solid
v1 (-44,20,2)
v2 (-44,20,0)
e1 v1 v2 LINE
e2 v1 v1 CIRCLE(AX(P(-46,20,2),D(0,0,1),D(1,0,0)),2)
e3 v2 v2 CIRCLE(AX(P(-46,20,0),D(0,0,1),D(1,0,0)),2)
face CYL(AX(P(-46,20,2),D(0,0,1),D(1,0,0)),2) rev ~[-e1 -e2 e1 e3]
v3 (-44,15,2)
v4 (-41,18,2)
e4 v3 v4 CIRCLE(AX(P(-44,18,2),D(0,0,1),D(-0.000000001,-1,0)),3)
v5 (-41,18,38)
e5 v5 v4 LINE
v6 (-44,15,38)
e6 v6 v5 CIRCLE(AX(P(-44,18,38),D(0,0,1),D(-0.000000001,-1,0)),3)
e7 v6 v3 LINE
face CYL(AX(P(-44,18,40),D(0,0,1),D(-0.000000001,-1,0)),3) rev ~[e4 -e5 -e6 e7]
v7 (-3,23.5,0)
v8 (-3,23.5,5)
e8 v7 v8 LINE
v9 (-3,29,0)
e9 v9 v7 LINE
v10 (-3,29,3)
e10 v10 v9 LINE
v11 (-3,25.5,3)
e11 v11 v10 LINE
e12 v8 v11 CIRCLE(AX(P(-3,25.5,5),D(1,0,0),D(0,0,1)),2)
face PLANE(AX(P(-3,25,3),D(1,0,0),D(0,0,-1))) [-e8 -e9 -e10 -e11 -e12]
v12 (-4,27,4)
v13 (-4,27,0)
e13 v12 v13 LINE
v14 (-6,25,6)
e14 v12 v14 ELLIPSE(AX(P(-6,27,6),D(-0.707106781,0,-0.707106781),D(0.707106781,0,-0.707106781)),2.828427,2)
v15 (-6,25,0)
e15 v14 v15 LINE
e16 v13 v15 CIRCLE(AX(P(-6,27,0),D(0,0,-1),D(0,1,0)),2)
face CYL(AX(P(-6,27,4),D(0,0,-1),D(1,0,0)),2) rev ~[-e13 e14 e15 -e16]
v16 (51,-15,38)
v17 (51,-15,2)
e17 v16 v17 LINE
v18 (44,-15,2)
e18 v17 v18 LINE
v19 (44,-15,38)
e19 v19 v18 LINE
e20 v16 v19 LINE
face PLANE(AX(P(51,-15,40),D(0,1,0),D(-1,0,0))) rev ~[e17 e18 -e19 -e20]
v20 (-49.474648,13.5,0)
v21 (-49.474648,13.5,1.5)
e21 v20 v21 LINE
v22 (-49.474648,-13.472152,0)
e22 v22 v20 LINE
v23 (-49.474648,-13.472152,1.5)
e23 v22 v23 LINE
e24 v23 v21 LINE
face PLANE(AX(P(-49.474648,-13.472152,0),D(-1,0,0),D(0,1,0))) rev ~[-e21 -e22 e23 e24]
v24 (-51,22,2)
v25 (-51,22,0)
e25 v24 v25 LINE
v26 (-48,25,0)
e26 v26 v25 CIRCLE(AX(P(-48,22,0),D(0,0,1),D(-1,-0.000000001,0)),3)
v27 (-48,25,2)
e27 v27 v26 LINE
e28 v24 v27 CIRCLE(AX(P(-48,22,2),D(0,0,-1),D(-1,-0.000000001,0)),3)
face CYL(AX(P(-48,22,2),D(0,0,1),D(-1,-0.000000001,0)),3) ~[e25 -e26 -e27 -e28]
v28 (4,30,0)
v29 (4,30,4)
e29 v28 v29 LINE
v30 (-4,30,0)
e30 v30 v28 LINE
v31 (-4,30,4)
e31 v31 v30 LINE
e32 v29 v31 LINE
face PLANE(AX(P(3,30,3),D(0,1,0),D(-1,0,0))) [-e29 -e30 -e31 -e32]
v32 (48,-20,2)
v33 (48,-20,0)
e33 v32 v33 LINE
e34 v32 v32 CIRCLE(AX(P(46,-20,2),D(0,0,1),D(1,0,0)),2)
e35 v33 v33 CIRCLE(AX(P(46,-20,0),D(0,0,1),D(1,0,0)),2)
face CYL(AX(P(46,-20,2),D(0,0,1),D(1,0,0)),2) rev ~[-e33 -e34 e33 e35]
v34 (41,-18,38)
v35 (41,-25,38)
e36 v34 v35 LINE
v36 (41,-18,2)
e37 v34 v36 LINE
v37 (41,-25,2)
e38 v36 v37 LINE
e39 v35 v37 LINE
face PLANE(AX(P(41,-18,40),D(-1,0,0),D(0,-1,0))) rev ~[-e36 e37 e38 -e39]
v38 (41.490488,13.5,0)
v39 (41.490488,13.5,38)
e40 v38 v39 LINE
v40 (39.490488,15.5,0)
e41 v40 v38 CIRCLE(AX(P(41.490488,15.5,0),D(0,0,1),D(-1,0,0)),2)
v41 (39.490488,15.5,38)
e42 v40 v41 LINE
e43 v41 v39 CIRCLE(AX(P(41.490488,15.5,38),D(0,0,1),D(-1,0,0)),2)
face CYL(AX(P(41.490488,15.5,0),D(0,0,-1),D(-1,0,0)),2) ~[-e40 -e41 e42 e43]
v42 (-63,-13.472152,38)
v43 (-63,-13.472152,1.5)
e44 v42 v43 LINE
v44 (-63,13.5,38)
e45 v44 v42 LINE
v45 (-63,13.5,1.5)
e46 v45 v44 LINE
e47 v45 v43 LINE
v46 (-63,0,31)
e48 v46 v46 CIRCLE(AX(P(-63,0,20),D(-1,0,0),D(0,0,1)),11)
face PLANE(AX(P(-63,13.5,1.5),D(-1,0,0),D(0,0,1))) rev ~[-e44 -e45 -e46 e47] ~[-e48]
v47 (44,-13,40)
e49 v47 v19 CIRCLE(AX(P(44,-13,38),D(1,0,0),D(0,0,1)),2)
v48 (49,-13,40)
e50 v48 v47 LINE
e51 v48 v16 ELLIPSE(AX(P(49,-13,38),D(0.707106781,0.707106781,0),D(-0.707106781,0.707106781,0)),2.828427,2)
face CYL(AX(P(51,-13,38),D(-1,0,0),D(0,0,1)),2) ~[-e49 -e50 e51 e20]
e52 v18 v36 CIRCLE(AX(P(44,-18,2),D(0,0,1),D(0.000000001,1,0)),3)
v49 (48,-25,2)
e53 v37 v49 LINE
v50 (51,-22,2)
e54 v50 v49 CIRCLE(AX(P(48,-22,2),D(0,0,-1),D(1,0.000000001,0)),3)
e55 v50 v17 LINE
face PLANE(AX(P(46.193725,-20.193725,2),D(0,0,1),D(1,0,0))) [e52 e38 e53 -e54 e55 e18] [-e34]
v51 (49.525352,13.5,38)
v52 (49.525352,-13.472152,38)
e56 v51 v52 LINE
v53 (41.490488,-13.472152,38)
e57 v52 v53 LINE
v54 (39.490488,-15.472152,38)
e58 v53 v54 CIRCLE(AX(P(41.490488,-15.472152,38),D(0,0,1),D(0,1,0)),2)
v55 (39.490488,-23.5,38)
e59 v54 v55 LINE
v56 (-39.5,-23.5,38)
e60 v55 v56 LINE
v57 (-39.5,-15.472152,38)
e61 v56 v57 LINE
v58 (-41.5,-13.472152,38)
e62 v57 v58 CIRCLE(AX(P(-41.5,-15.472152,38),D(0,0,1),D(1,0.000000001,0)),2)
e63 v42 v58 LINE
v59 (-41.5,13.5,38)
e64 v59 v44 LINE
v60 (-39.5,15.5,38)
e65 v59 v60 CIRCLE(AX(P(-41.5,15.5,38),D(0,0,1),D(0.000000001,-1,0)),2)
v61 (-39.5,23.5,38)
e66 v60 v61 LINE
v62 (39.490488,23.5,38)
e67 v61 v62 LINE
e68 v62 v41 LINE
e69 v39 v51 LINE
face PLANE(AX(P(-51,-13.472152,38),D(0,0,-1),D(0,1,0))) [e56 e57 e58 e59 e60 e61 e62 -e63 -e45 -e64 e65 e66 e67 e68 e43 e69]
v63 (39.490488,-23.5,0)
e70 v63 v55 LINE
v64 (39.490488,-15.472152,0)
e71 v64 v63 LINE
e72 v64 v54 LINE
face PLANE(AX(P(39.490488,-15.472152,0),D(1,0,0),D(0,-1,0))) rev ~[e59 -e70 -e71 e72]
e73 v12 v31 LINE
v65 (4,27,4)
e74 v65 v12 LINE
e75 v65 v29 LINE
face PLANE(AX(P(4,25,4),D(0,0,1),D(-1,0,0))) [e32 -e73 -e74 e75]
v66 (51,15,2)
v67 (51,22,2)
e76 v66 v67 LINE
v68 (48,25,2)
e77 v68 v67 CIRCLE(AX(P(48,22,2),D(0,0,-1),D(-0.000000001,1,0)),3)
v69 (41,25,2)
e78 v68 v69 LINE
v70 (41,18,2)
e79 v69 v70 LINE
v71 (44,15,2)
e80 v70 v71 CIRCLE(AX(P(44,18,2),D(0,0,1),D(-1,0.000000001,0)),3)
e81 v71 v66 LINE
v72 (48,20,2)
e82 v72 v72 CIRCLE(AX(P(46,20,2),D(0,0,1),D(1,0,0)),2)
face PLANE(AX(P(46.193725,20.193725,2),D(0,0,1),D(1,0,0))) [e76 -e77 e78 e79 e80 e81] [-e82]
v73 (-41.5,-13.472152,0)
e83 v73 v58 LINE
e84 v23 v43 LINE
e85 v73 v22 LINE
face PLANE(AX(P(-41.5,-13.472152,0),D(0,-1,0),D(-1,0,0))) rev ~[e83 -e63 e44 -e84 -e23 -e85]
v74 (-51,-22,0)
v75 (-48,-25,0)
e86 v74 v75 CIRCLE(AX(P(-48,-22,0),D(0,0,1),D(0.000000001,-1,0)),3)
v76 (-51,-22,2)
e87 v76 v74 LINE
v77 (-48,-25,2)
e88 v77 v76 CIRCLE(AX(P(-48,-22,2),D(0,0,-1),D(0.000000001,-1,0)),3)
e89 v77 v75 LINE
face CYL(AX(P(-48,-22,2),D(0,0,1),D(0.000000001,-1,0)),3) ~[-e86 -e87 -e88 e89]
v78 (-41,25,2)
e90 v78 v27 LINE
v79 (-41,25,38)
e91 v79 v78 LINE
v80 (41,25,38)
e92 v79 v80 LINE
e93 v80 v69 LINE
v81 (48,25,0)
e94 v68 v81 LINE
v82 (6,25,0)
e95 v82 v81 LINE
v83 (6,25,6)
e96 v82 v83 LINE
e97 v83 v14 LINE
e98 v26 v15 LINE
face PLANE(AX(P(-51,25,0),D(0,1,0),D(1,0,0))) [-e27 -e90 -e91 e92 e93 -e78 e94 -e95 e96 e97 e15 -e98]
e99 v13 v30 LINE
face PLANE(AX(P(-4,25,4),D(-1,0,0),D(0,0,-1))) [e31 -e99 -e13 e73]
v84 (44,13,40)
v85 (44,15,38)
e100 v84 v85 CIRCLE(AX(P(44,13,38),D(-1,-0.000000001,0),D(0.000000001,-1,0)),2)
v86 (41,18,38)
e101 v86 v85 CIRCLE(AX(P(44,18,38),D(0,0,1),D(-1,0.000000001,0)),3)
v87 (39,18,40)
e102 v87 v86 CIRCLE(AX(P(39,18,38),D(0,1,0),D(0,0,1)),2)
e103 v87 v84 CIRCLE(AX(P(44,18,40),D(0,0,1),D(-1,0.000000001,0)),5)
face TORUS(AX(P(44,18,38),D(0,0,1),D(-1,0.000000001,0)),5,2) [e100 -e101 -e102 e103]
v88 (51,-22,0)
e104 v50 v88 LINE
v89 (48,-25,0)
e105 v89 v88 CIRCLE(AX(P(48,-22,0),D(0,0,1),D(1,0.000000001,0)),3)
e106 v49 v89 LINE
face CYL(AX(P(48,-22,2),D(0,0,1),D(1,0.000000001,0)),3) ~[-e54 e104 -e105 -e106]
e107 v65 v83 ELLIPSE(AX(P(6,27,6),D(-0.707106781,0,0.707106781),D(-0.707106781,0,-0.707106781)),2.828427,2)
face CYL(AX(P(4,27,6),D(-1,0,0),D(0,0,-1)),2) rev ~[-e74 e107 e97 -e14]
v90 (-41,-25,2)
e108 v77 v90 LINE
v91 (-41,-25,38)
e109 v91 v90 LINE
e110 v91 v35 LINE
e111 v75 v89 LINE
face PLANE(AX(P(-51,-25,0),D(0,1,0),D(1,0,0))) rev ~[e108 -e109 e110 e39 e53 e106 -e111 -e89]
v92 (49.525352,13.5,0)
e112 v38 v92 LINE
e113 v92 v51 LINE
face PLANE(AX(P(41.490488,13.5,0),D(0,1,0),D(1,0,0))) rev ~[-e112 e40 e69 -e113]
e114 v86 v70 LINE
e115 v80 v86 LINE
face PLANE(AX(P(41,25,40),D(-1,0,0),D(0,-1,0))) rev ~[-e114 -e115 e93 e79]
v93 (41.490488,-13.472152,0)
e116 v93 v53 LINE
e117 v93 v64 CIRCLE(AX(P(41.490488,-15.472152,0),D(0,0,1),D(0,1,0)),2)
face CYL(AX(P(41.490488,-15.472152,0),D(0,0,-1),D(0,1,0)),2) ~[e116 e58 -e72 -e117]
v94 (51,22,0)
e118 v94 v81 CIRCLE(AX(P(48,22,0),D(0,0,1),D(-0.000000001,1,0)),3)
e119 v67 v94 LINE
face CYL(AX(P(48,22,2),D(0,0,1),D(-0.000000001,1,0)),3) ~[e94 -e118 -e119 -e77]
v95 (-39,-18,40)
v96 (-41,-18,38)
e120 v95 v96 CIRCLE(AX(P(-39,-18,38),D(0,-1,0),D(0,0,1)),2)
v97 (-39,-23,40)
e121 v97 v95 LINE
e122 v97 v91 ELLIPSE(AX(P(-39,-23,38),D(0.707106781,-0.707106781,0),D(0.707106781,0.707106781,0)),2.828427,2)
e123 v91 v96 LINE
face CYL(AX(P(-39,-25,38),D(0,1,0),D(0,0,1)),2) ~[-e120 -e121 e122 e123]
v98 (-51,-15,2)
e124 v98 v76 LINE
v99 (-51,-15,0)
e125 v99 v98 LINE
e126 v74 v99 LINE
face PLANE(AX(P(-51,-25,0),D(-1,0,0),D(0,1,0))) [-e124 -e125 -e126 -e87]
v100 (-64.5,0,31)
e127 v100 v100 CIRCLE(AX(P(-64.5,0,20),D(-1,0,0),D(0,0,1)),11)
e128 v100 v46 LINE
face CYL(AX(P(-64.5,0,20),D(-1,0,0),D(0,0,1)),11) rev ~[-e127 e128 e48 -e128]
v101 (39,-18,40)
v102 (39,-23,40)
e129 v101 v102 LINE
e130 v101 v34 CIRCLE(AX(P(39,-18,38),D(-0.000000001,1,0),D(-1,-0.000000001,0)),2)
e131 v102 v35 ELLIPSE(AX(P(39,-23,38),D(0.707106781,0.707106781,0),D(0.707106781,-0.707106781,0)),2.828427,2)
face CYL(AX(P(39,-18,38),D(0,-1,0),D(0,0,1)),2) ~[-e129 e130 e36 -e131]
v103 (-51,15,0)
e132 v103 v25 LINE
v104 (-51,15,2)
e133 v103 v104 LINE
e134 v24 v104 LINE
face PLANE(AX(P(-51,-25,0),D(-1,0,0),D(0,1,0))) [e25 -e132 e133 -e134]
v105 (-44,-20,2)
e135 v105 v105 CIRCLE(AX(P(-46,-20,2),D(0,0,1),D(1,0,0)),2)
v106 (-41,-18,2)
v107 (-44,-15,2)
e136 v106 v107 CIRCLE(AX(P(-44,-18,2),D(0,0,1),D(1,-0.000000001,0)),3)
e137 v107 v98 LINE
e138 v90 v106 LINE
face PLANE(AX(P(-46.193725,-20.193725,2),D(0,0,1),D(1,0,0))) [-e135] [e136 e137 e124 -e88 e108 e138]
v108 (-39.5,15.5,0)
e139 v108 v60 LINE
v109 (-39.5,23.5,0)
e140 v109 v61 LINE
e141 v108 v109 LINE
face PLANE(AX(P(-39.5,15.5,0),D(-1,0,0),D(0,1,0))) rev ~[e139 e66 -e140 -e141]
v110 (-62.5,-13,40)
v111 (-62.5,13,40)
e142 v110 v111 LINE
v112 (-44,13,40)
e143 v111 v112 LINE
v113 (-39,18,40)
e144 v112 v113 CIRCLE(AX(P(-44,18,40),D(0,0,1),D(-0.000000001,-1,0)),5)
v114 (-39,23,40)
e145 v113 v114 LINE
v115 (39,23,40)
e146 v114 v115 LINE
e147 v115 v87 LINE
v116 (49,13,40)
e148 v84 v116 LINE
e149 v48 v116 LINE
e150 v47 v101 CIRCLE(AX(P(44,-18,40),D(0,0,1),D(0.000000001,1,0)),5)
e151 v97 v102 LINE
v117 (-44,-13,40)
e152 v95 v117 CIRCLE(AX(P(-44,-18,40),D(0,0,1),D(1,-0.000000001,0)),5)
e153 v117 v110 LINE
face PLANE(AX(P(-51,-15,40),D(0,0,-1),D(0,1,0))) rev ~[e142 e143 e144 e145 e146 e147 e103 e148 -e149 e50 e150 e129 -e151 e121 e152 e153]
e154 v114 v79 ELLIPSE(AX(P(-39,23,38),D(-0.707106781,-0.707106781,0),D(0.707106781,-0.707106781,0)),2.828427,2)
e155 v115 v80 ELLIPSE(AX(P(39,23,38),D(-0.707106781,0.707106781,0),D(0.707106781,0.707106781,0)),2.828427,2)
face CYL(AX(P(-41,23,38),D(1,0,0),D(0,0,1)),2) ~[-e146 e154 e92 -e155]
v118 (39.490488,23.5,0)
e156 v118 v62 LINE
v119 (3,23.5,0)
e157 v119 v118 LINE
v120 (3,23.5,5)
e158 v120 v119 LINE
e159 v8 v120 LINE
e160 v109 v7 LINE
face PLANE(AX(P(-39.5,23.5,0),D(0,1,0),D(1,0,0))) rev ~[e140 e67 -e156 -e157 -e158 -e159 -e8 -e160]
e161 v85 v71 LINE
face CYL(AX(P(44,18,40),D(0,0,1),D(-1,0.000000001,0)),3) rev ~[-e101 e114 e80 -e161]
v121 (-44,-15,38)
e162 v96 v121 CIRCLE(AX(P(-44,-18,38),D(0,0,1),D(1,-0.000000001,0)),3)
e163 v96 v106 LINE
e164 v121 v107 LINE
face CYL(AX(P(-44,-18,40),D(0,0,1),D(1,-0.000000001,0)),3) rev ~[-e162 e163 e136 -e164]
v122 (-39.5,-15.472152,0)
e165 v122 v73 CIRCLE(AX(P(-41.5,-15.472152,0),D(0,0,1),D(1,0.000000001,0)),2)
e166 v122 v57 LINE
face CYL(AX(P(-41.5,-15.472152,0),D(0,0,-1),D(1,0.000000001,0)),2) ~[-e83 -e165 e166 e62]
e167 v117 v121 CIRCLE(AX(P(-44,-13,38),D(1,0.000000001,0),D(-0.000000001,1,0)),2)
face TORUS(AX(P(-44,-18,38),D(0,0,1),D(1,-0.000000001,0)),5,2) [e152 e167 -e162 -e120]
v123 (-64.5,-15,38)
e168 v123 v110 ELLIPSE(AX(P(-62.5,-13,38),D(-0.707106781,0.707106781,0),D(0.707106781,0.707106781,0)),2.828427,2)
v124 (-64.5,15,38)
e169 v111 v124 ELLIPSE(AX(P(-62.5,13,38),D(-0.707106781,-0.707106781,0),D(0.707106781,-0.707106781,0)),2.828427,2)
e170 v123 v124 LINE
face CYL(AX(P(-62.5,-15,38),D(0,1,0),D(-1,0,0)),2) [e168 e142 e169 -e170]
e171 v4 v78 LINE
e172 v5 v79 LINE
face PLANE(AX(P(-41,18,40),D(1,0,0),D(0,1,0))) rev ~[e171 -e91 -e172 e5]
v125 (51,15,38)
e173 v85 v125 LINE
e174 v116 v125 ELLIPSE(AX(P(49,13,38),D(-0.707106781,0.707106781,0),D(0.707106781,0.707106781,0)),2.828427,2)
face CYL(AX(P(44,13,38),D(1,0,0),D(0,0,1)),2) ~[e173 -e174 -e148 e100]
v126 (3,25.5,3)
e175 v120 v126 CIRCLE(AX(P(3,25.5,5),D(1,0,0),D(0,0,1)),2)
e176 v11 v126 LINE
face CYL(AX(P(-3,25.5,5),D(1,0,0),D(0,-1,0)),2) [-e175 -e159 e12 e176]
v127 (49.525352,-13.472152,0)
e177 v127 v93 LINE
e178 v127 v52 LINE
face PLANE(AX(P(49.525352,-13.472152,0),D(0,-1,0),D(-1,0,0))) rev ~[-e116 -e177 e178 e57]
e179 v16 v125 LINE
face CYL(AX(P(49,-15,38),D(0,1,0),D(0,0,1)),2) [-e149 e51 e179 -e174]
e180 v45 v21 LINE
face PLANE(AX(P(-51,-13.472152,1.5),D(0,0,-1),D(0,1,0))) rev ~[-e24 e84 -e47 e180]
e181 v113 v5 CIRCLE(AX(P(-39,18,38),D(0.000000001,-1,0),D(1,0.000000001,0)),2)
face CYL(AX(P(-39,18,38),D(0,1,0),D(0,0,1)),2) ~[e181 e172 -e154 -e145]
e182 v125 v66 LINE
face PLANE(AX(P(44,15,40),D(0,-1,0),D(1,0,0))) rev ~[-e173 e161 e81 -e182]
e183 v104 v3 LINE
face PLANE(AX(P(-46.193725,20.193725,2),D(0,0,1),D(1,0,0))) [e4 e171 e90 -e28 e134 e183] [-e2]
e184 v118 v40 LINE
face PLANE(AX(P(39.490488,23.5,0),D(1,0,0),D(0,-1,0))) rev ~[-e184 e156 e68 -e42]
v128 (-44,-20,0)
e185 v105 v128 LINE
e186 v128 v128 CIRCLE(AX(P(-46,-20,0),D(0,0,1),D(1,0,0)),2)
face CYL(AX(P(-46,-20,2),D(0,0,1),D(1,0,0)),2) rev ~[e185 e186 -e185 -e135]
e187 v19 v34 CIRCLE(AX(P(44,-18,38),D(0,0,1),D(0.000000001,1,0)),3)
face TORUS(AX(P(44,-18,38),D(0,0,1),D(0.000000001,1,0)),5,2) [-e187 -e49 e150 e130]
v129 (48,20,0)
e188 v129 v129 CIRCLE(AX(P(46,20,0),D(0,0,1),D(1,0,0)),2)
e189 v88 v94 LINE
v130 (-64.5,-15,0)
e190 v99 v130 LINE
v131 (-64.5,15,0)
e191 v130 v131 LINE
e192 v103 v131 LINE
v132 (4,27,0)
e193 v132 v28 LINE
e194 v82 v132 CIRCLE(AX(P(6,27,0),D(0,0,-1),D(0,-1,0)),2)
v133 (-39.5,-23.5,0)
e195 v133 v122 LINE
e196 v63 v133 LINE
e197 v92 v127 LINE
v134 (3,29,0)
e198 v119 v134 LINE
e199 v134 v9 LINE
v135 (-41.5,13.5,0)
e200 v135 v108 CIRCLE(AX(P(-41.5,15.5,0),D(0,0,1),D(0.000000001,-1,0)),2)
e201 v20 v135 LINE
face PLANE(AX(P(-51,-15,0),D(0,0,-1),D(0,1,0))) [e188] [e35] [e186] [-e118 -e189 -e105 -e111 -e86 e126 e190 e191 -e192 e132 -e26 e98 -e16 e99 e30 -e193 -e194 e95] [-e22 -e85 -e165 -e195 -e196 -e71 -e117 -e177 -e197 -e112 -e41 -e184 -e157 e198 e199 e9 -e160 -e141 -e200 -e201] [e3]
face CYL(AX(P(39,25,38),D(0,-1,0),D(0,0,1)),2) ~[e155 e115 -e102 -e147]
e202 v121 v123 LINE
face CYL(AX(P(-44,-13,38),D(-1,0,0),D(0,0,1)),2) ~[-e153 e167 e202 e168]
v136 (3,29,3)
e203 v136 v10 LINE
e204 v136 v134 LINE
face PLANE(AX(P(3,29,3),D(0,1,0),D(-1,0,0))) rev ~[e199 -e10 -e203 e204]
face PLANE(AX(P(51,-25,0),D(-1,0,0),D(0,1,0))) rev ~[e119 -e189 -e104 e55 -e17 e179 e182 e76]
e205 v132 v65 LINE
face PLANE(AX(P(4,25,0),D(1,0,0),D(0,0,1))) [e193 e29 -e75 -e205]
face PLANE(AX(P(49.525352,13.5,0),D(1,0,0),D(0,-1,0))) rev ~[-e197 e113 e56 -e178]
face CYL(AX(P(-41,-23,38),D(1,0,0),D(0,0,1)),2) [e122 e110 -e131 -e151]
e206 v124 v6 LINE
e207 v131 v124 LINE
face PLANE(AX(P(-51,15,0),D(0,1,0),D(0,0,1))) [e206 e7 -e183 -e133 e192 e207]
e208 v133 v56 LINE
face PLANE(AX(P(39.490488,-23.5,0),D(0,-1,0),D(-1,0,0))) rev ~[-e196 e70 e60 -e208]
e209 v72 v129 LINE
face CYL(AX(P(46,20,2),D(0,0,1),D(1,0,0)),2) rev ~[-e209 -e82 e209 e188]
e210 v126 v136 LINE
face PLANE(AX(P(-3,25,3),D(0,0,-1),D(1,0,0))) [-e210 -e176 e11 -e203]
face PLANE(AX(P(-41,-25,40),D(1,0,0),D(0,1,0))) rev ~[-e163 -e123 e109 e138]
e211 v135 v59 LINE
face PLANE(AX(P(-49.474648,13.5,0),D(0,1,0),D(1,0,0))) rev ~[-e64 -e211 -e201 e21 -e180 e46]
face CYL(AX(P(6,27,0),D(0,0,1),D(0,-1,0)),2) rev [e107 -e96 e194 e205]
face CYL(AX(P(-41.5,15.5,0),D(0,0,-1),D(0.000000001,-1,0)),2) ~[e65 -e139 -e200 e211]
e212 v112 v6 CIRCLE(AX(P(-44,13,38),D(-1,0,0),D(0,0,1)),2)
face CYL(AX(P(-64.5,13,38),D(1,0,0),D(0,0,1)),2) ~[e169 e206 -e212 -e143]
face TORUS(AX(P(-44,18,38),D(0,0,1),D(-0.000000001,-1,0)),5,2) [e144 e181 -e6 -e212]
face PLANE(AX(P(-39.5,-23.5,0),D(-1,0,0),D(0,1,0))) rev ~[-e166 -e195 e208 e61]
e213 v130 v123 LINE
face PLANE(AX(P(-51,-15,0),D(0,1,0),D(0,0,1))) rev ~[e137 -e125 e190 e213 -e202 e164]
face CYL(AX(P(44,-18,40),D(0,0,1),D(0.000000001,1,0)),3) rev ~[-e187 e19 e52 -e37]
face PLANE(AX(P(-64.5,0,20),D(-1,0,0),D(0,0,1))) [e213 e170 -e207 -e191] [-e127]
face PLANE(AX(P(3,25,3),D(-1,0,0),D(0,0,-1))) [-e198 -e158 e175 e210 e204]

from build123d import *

# Parameters (mm, degrees)
CROQUIS1_W              = 102
CROQUIS1_H              = 50
SALIENTE_EXTRUIR1_DEPTH = 40
CORTAR_EXTRUIR1_DEPTH   = 38
CROQUIS4_R              = 2
CORTAR_EXTRUIR2_DEPTH   = 18
CORTAR_EXTRUIR3_DEPTH   = 38
CROQUIS7_W              = 6
CROQUIS7_H              = 3
CORTAR_EXTRUIR5_DEPTH   = 10
SALIENTE_EXTRUIR2_DEPTH = 5
CROQUIS9_W              = 6
CROQUIS9_H              = 1
SALIENTE_EXTRUIR3_DEPTH = 3
REDONDEO2_R             = 2
REDONDEO4_R             = 2
CROQUIS16_W             = 36.5
CROQUIS16_H             = 26.972151698
CORTAR_EXTRUIR13_DEPTH  = 5.5
CROQUIS17_W             = 40
CROQUIS17_H             = 30
CROQUIS17_W_2           = 36.5
CROQUIS17_H_2           = 26.972151698
SALIENTE_EXTRUIR7_DEPTH = 13.5
CROQUIS18_W             = 1.5
CROQUIS18_H             = 36.5
SALIENTE_EXTRUIR8_DEPTH = 27.5
CROQUIS19_R             = 11
CORTAR_EXTRUIR14_DEPTH  = 27.5
REDONDEO5_R             = 2


with BuildPart() as part:
    # Croquis1 → Saliente-Extruir1 (new body)
    with BuildSketch(Plane.XY):
        Rectangle(CROQUIS1_W, CROQUIS1_H)
    extrude(amount=SALIENTE_EXTRUIR1_DEPTH)

    # Croquis3 → Cortar-Extruir1 (cut)
    with BuildSketch(Plane.XY.offset(40)):
        with BuildLine():
            Line((51, 25), (41, 25))
            Line((41, 25), (41, 18))
            ThreePointArc((41, 18), (41.878679656, 15.878679656), (44, 15))
            Line((44, 15), (51, 15))
            Line((51, 15), (51, 25))
        make_face()
        with BuildLine():
            Line((41, -18), (41, -25))
            Line((41, -25), (51, -25))
            Line((51, -25), (51, -15))
            Line((51, -15), (44, -15))
            ThreePointArc((44, -15), (41.878679656, -15.878679656), (41, -18))
        make_face()
        with BuildLine():
            Line((-44, -15), (-51, -15))
            Line((-51, -15), (-51, -25))
            Line((-51, -25), (-41, -25))
            Line((-41, -25), (-41, -18))
            ThreePointArc((-41, -18), (-41.878679656, -15.878679656), (-44, -15))
        make_face()
        with BuildLine():
            Line((-51, 25), (-51, 15))
            Line((-51, 15), (-44, 15))
            ThreePointArc((-44, 15), (-41.878679656, 15.878679656), (-41, 18))
            Line((-41, 18), (-41, 25))
            Line((-41, 25), (-51, 25))
        make_face()
    extrude(amount=-CORTAR_EXTRUIR1_DEPTH, mode=Mode.SUBTRACT)

    # Croquis4 → Cortar-Extruir2 (cut)
    with BuildSketch(Plane.XY.offset(2)):
        with BuildLine():
            Line((-51, -25), (-48, -25))
            ThreePointArc((-48, -25), (-50.121320344, -24.121320344), (-51, -22))
            Line((-51, -22), (-51, -25))
        make_face()
        with Locations((-46, -20)):
            Circle(CROQUIS4_R)
        with BuildLine():
            Line((-51, 25), (-51, 22))
            ThreePointArc((-51, 22), (-50.121320344, 24.121320344), (-48, 25))
            Line((-48, 25), (-51, 25))
        make_face()
        with Locations((-46, 20)):
            Circle(CROQUIS4_R)
        with Locations((46, 20)):
            Circle(CROQUIS4_R)
        with BuildLine():
            ThreePointArc((48, 25), (50.121320344, 24.121320344), (51, 22))
            Line((51, 22), (51, 25))
            Line((51, 25), (48, 25))
        make_face()
        with Locations((46, -20)):
            Circle(CROQUIS4_R)
        with BuildLine():
            ThreePointArc((51, -22), (50.121320344, -24.121320344), (48, -25))
            Line((48, -25), (51, -25))
            Line((51, -25), (51, -22))
        make_face()
    extrude(amount=-CORTAR_EXTRUIR2_DEPTH, mode=Mode.SUBTRACT)

    # Croquis5 → Cortar-Extruir3 (cut)
    with BuildSketch(Plane(origin=(0, 0, 0), x_dir=(-1, 0, 0), z_dir=(0, 0, -1))):
        with BuildLine():
            Line((0, 23.5), (-39.490487895, 23.5))
            Line((-39.490487895, 23.5), (-39.490487895, 15.5))
            ThreePointArc((-39.490487895, 15.5), (-40.076274332, 14.085786438), (-41.490487895, 13.5))
            Line((-41.490487895, 13.5), (-49.525351845, 13.5))
            Line((-49.525351845, 13.5), (-49.525351845, -13.472151698))
            Line((-49.525351845, -13.472151698), (-41.490487895, -13.472151698))
            ThreePointArc((-41.490487895, -13.472151698), (-40.076274332, -14.057938136), (-39.490487895, -15.472151698))
            Line((-39.490487895, -15.472151698), (-39.490487895, -23.5))
            Line((-39.490487895, -23.5), (39.5, -23.5))
            Line((39.5, -23.5), (39.5, -15.472151698))
            ThreePointArc((39.5, -15.472151698), (40.085786438, -14.057938136), (41.5, -13.472151698))
            Line((41.5, -13.472151698), (49.474648155, -13.472151698))
            Line((49.474648155, -13.472151698), (49.474648155, 13.5))
            Line((49.474648155, 13.5), (41.5, 13.5))
            ThreePointArc((41.5, 13.5), (40.085786438, 14.085786438), (39.5, 15.5))
            Line((39.5, 15.5), (39.5, 23.5))
            Line((39.5, 23.5), (0, 23.5))
        make_face()
    extrude(amount=-CORTAR_EXTRUIR3_DEPTH, mode=Mode.SUBTRACT)

    # Croquis7 → Cortar-Extruir5 (cut)
    with BuildSketch(Plane(origin=(0, 25, 0), x_dir=(1, 0, 0), z_dir=(0, 1, 0))):
        with Locations((0, -1.5)):
            Rectangle(CROQUIS7_W, CROQUIS7_H)
    extrude(amount=-CORTAR_EXTRUIR5_DEPTH, mode=Mode.SUBTRACT)

    # Croquis8 → Saliente-Extruir2 (add)
    with BuildSketch(Plane(origin=(0, 25, 0), x_dir=(1, 0, 0), z_dir=(0, 1, 0))):
        Polygon((3, 0), (4, 0), (4, -4), (-4, -4), (-4, 0), (-3, 0), (-3, -3), (3, -3), align=None)
    extrude(amount=SALIENTE_EXTRUIR2_DEPTH)

    # Croquis9 → Saliente-Extruir3 (add)
    with BuildSketch(Plane(origin=(0, 0, 3), x_dir=(-1, 0, 0), z_dir=(0, 0, -1))):
        with Locations((0, 29.5)):
            Rectangle(CROQUIS9_W, CROQUIS9_H)
    extrude(amount=SALIENTE_EXTRUIR3_DEPTH)

    # Redondeo2
    redondeo2_edges = [part.edges().sort_by_distance(p)[0] for p in [
        (0, 23.5, 3),
    ]]
    fillet(redondeo2_edges, radius=REDONDEO2_R)

    # Redondeo4
    redondeo4_edges = [part.edges().sort_by_distance(p)[0] for p in [
        (-4, 25, 2),
        (0, 25, 4),
        (4, 25, 2),
    ]]
    fillet(redondeo4_edges, radius=REDONDEO4_R)

    # Croquis16 → Cortar-Extruir13 (cut)
    with BuildSketch(Plane(origin=(-49.474648155, 0, 0), x_dir=(0, 0, -1), z_dir=(1, 0, 0))):
        with Locations((-19.75, 0.013924151)):
            Rectangle(CROQUIS16_W, CROQUIS16_H)
    extrude(amount=-CORTAR_EXTRUIR13_DEPTH, mode=Mode.SUBTRACT)

    # Croquis17 → Saliente-Extruir7 (add)
    with BuildSketch(Plane.ZY.offset(51)):
        with Locations((20, 0)):
            Rectangle(CROQUIS17_W, CROQUIS17_H)
        with Locations((19.75, 0.013924151)):
            Rectangle(CROQUIS17_W_2, CROQUIS17_H_2, mode=Mode.SUBTRACT)
    extrude(amount=SALIENTE_EXTRUIR7_DEPTH)

    # Croquis18 → Saliente-Extruir8 (add)
    with BuildSketch(Plane.XZ.offset(-13.5)):
        with Locations((-63.75, 19.75)):
            Rectangle(CROQUIS18_W, CROQUIS18_H)
    extrude(amount=SALIENTE_EXTRUIR8_DEPTH)

    # Croquis19 → Cortar-Extruir14 (cut)
    with BuildSketch(Plane.ZY.offset(64.5)):
        with Locations((20, 0)):
            Circle(CROQUIS19_R)
    extrude(amount=-CORTAR_EXTRUIR14_DEPTH, mode=Mode.SUBTRACT)

    # Redondeo5
    redondeo5_edges = [part.edges().sort_by_distance(p)[0] for p in [
        (51, 0, 40),
        (0, 25, 40),
        (0, -25, 40),
        (-41.878679656, 15.878679656, 40),
        (-41, 21.5, 40),
        (-64.5, 0, 40),
        (-54.25, 15, 40),
        (-41.878679656, -15.878679656, 40),
        (-41, -21.5, 40),
        (-54.25, -15, 40),
        (41.878679656, -15.878679656, 40),
        (47.5, -15, 40),
        (41, -21.5, 40),
        (41.878679656, 15.878679656, 40),
        (47.5, 15, 40),
        (41, 21.5, 40),
    ]]
    fillet(redondeo5_edges, radius=REDONDEO5_R)


solid = part.part
